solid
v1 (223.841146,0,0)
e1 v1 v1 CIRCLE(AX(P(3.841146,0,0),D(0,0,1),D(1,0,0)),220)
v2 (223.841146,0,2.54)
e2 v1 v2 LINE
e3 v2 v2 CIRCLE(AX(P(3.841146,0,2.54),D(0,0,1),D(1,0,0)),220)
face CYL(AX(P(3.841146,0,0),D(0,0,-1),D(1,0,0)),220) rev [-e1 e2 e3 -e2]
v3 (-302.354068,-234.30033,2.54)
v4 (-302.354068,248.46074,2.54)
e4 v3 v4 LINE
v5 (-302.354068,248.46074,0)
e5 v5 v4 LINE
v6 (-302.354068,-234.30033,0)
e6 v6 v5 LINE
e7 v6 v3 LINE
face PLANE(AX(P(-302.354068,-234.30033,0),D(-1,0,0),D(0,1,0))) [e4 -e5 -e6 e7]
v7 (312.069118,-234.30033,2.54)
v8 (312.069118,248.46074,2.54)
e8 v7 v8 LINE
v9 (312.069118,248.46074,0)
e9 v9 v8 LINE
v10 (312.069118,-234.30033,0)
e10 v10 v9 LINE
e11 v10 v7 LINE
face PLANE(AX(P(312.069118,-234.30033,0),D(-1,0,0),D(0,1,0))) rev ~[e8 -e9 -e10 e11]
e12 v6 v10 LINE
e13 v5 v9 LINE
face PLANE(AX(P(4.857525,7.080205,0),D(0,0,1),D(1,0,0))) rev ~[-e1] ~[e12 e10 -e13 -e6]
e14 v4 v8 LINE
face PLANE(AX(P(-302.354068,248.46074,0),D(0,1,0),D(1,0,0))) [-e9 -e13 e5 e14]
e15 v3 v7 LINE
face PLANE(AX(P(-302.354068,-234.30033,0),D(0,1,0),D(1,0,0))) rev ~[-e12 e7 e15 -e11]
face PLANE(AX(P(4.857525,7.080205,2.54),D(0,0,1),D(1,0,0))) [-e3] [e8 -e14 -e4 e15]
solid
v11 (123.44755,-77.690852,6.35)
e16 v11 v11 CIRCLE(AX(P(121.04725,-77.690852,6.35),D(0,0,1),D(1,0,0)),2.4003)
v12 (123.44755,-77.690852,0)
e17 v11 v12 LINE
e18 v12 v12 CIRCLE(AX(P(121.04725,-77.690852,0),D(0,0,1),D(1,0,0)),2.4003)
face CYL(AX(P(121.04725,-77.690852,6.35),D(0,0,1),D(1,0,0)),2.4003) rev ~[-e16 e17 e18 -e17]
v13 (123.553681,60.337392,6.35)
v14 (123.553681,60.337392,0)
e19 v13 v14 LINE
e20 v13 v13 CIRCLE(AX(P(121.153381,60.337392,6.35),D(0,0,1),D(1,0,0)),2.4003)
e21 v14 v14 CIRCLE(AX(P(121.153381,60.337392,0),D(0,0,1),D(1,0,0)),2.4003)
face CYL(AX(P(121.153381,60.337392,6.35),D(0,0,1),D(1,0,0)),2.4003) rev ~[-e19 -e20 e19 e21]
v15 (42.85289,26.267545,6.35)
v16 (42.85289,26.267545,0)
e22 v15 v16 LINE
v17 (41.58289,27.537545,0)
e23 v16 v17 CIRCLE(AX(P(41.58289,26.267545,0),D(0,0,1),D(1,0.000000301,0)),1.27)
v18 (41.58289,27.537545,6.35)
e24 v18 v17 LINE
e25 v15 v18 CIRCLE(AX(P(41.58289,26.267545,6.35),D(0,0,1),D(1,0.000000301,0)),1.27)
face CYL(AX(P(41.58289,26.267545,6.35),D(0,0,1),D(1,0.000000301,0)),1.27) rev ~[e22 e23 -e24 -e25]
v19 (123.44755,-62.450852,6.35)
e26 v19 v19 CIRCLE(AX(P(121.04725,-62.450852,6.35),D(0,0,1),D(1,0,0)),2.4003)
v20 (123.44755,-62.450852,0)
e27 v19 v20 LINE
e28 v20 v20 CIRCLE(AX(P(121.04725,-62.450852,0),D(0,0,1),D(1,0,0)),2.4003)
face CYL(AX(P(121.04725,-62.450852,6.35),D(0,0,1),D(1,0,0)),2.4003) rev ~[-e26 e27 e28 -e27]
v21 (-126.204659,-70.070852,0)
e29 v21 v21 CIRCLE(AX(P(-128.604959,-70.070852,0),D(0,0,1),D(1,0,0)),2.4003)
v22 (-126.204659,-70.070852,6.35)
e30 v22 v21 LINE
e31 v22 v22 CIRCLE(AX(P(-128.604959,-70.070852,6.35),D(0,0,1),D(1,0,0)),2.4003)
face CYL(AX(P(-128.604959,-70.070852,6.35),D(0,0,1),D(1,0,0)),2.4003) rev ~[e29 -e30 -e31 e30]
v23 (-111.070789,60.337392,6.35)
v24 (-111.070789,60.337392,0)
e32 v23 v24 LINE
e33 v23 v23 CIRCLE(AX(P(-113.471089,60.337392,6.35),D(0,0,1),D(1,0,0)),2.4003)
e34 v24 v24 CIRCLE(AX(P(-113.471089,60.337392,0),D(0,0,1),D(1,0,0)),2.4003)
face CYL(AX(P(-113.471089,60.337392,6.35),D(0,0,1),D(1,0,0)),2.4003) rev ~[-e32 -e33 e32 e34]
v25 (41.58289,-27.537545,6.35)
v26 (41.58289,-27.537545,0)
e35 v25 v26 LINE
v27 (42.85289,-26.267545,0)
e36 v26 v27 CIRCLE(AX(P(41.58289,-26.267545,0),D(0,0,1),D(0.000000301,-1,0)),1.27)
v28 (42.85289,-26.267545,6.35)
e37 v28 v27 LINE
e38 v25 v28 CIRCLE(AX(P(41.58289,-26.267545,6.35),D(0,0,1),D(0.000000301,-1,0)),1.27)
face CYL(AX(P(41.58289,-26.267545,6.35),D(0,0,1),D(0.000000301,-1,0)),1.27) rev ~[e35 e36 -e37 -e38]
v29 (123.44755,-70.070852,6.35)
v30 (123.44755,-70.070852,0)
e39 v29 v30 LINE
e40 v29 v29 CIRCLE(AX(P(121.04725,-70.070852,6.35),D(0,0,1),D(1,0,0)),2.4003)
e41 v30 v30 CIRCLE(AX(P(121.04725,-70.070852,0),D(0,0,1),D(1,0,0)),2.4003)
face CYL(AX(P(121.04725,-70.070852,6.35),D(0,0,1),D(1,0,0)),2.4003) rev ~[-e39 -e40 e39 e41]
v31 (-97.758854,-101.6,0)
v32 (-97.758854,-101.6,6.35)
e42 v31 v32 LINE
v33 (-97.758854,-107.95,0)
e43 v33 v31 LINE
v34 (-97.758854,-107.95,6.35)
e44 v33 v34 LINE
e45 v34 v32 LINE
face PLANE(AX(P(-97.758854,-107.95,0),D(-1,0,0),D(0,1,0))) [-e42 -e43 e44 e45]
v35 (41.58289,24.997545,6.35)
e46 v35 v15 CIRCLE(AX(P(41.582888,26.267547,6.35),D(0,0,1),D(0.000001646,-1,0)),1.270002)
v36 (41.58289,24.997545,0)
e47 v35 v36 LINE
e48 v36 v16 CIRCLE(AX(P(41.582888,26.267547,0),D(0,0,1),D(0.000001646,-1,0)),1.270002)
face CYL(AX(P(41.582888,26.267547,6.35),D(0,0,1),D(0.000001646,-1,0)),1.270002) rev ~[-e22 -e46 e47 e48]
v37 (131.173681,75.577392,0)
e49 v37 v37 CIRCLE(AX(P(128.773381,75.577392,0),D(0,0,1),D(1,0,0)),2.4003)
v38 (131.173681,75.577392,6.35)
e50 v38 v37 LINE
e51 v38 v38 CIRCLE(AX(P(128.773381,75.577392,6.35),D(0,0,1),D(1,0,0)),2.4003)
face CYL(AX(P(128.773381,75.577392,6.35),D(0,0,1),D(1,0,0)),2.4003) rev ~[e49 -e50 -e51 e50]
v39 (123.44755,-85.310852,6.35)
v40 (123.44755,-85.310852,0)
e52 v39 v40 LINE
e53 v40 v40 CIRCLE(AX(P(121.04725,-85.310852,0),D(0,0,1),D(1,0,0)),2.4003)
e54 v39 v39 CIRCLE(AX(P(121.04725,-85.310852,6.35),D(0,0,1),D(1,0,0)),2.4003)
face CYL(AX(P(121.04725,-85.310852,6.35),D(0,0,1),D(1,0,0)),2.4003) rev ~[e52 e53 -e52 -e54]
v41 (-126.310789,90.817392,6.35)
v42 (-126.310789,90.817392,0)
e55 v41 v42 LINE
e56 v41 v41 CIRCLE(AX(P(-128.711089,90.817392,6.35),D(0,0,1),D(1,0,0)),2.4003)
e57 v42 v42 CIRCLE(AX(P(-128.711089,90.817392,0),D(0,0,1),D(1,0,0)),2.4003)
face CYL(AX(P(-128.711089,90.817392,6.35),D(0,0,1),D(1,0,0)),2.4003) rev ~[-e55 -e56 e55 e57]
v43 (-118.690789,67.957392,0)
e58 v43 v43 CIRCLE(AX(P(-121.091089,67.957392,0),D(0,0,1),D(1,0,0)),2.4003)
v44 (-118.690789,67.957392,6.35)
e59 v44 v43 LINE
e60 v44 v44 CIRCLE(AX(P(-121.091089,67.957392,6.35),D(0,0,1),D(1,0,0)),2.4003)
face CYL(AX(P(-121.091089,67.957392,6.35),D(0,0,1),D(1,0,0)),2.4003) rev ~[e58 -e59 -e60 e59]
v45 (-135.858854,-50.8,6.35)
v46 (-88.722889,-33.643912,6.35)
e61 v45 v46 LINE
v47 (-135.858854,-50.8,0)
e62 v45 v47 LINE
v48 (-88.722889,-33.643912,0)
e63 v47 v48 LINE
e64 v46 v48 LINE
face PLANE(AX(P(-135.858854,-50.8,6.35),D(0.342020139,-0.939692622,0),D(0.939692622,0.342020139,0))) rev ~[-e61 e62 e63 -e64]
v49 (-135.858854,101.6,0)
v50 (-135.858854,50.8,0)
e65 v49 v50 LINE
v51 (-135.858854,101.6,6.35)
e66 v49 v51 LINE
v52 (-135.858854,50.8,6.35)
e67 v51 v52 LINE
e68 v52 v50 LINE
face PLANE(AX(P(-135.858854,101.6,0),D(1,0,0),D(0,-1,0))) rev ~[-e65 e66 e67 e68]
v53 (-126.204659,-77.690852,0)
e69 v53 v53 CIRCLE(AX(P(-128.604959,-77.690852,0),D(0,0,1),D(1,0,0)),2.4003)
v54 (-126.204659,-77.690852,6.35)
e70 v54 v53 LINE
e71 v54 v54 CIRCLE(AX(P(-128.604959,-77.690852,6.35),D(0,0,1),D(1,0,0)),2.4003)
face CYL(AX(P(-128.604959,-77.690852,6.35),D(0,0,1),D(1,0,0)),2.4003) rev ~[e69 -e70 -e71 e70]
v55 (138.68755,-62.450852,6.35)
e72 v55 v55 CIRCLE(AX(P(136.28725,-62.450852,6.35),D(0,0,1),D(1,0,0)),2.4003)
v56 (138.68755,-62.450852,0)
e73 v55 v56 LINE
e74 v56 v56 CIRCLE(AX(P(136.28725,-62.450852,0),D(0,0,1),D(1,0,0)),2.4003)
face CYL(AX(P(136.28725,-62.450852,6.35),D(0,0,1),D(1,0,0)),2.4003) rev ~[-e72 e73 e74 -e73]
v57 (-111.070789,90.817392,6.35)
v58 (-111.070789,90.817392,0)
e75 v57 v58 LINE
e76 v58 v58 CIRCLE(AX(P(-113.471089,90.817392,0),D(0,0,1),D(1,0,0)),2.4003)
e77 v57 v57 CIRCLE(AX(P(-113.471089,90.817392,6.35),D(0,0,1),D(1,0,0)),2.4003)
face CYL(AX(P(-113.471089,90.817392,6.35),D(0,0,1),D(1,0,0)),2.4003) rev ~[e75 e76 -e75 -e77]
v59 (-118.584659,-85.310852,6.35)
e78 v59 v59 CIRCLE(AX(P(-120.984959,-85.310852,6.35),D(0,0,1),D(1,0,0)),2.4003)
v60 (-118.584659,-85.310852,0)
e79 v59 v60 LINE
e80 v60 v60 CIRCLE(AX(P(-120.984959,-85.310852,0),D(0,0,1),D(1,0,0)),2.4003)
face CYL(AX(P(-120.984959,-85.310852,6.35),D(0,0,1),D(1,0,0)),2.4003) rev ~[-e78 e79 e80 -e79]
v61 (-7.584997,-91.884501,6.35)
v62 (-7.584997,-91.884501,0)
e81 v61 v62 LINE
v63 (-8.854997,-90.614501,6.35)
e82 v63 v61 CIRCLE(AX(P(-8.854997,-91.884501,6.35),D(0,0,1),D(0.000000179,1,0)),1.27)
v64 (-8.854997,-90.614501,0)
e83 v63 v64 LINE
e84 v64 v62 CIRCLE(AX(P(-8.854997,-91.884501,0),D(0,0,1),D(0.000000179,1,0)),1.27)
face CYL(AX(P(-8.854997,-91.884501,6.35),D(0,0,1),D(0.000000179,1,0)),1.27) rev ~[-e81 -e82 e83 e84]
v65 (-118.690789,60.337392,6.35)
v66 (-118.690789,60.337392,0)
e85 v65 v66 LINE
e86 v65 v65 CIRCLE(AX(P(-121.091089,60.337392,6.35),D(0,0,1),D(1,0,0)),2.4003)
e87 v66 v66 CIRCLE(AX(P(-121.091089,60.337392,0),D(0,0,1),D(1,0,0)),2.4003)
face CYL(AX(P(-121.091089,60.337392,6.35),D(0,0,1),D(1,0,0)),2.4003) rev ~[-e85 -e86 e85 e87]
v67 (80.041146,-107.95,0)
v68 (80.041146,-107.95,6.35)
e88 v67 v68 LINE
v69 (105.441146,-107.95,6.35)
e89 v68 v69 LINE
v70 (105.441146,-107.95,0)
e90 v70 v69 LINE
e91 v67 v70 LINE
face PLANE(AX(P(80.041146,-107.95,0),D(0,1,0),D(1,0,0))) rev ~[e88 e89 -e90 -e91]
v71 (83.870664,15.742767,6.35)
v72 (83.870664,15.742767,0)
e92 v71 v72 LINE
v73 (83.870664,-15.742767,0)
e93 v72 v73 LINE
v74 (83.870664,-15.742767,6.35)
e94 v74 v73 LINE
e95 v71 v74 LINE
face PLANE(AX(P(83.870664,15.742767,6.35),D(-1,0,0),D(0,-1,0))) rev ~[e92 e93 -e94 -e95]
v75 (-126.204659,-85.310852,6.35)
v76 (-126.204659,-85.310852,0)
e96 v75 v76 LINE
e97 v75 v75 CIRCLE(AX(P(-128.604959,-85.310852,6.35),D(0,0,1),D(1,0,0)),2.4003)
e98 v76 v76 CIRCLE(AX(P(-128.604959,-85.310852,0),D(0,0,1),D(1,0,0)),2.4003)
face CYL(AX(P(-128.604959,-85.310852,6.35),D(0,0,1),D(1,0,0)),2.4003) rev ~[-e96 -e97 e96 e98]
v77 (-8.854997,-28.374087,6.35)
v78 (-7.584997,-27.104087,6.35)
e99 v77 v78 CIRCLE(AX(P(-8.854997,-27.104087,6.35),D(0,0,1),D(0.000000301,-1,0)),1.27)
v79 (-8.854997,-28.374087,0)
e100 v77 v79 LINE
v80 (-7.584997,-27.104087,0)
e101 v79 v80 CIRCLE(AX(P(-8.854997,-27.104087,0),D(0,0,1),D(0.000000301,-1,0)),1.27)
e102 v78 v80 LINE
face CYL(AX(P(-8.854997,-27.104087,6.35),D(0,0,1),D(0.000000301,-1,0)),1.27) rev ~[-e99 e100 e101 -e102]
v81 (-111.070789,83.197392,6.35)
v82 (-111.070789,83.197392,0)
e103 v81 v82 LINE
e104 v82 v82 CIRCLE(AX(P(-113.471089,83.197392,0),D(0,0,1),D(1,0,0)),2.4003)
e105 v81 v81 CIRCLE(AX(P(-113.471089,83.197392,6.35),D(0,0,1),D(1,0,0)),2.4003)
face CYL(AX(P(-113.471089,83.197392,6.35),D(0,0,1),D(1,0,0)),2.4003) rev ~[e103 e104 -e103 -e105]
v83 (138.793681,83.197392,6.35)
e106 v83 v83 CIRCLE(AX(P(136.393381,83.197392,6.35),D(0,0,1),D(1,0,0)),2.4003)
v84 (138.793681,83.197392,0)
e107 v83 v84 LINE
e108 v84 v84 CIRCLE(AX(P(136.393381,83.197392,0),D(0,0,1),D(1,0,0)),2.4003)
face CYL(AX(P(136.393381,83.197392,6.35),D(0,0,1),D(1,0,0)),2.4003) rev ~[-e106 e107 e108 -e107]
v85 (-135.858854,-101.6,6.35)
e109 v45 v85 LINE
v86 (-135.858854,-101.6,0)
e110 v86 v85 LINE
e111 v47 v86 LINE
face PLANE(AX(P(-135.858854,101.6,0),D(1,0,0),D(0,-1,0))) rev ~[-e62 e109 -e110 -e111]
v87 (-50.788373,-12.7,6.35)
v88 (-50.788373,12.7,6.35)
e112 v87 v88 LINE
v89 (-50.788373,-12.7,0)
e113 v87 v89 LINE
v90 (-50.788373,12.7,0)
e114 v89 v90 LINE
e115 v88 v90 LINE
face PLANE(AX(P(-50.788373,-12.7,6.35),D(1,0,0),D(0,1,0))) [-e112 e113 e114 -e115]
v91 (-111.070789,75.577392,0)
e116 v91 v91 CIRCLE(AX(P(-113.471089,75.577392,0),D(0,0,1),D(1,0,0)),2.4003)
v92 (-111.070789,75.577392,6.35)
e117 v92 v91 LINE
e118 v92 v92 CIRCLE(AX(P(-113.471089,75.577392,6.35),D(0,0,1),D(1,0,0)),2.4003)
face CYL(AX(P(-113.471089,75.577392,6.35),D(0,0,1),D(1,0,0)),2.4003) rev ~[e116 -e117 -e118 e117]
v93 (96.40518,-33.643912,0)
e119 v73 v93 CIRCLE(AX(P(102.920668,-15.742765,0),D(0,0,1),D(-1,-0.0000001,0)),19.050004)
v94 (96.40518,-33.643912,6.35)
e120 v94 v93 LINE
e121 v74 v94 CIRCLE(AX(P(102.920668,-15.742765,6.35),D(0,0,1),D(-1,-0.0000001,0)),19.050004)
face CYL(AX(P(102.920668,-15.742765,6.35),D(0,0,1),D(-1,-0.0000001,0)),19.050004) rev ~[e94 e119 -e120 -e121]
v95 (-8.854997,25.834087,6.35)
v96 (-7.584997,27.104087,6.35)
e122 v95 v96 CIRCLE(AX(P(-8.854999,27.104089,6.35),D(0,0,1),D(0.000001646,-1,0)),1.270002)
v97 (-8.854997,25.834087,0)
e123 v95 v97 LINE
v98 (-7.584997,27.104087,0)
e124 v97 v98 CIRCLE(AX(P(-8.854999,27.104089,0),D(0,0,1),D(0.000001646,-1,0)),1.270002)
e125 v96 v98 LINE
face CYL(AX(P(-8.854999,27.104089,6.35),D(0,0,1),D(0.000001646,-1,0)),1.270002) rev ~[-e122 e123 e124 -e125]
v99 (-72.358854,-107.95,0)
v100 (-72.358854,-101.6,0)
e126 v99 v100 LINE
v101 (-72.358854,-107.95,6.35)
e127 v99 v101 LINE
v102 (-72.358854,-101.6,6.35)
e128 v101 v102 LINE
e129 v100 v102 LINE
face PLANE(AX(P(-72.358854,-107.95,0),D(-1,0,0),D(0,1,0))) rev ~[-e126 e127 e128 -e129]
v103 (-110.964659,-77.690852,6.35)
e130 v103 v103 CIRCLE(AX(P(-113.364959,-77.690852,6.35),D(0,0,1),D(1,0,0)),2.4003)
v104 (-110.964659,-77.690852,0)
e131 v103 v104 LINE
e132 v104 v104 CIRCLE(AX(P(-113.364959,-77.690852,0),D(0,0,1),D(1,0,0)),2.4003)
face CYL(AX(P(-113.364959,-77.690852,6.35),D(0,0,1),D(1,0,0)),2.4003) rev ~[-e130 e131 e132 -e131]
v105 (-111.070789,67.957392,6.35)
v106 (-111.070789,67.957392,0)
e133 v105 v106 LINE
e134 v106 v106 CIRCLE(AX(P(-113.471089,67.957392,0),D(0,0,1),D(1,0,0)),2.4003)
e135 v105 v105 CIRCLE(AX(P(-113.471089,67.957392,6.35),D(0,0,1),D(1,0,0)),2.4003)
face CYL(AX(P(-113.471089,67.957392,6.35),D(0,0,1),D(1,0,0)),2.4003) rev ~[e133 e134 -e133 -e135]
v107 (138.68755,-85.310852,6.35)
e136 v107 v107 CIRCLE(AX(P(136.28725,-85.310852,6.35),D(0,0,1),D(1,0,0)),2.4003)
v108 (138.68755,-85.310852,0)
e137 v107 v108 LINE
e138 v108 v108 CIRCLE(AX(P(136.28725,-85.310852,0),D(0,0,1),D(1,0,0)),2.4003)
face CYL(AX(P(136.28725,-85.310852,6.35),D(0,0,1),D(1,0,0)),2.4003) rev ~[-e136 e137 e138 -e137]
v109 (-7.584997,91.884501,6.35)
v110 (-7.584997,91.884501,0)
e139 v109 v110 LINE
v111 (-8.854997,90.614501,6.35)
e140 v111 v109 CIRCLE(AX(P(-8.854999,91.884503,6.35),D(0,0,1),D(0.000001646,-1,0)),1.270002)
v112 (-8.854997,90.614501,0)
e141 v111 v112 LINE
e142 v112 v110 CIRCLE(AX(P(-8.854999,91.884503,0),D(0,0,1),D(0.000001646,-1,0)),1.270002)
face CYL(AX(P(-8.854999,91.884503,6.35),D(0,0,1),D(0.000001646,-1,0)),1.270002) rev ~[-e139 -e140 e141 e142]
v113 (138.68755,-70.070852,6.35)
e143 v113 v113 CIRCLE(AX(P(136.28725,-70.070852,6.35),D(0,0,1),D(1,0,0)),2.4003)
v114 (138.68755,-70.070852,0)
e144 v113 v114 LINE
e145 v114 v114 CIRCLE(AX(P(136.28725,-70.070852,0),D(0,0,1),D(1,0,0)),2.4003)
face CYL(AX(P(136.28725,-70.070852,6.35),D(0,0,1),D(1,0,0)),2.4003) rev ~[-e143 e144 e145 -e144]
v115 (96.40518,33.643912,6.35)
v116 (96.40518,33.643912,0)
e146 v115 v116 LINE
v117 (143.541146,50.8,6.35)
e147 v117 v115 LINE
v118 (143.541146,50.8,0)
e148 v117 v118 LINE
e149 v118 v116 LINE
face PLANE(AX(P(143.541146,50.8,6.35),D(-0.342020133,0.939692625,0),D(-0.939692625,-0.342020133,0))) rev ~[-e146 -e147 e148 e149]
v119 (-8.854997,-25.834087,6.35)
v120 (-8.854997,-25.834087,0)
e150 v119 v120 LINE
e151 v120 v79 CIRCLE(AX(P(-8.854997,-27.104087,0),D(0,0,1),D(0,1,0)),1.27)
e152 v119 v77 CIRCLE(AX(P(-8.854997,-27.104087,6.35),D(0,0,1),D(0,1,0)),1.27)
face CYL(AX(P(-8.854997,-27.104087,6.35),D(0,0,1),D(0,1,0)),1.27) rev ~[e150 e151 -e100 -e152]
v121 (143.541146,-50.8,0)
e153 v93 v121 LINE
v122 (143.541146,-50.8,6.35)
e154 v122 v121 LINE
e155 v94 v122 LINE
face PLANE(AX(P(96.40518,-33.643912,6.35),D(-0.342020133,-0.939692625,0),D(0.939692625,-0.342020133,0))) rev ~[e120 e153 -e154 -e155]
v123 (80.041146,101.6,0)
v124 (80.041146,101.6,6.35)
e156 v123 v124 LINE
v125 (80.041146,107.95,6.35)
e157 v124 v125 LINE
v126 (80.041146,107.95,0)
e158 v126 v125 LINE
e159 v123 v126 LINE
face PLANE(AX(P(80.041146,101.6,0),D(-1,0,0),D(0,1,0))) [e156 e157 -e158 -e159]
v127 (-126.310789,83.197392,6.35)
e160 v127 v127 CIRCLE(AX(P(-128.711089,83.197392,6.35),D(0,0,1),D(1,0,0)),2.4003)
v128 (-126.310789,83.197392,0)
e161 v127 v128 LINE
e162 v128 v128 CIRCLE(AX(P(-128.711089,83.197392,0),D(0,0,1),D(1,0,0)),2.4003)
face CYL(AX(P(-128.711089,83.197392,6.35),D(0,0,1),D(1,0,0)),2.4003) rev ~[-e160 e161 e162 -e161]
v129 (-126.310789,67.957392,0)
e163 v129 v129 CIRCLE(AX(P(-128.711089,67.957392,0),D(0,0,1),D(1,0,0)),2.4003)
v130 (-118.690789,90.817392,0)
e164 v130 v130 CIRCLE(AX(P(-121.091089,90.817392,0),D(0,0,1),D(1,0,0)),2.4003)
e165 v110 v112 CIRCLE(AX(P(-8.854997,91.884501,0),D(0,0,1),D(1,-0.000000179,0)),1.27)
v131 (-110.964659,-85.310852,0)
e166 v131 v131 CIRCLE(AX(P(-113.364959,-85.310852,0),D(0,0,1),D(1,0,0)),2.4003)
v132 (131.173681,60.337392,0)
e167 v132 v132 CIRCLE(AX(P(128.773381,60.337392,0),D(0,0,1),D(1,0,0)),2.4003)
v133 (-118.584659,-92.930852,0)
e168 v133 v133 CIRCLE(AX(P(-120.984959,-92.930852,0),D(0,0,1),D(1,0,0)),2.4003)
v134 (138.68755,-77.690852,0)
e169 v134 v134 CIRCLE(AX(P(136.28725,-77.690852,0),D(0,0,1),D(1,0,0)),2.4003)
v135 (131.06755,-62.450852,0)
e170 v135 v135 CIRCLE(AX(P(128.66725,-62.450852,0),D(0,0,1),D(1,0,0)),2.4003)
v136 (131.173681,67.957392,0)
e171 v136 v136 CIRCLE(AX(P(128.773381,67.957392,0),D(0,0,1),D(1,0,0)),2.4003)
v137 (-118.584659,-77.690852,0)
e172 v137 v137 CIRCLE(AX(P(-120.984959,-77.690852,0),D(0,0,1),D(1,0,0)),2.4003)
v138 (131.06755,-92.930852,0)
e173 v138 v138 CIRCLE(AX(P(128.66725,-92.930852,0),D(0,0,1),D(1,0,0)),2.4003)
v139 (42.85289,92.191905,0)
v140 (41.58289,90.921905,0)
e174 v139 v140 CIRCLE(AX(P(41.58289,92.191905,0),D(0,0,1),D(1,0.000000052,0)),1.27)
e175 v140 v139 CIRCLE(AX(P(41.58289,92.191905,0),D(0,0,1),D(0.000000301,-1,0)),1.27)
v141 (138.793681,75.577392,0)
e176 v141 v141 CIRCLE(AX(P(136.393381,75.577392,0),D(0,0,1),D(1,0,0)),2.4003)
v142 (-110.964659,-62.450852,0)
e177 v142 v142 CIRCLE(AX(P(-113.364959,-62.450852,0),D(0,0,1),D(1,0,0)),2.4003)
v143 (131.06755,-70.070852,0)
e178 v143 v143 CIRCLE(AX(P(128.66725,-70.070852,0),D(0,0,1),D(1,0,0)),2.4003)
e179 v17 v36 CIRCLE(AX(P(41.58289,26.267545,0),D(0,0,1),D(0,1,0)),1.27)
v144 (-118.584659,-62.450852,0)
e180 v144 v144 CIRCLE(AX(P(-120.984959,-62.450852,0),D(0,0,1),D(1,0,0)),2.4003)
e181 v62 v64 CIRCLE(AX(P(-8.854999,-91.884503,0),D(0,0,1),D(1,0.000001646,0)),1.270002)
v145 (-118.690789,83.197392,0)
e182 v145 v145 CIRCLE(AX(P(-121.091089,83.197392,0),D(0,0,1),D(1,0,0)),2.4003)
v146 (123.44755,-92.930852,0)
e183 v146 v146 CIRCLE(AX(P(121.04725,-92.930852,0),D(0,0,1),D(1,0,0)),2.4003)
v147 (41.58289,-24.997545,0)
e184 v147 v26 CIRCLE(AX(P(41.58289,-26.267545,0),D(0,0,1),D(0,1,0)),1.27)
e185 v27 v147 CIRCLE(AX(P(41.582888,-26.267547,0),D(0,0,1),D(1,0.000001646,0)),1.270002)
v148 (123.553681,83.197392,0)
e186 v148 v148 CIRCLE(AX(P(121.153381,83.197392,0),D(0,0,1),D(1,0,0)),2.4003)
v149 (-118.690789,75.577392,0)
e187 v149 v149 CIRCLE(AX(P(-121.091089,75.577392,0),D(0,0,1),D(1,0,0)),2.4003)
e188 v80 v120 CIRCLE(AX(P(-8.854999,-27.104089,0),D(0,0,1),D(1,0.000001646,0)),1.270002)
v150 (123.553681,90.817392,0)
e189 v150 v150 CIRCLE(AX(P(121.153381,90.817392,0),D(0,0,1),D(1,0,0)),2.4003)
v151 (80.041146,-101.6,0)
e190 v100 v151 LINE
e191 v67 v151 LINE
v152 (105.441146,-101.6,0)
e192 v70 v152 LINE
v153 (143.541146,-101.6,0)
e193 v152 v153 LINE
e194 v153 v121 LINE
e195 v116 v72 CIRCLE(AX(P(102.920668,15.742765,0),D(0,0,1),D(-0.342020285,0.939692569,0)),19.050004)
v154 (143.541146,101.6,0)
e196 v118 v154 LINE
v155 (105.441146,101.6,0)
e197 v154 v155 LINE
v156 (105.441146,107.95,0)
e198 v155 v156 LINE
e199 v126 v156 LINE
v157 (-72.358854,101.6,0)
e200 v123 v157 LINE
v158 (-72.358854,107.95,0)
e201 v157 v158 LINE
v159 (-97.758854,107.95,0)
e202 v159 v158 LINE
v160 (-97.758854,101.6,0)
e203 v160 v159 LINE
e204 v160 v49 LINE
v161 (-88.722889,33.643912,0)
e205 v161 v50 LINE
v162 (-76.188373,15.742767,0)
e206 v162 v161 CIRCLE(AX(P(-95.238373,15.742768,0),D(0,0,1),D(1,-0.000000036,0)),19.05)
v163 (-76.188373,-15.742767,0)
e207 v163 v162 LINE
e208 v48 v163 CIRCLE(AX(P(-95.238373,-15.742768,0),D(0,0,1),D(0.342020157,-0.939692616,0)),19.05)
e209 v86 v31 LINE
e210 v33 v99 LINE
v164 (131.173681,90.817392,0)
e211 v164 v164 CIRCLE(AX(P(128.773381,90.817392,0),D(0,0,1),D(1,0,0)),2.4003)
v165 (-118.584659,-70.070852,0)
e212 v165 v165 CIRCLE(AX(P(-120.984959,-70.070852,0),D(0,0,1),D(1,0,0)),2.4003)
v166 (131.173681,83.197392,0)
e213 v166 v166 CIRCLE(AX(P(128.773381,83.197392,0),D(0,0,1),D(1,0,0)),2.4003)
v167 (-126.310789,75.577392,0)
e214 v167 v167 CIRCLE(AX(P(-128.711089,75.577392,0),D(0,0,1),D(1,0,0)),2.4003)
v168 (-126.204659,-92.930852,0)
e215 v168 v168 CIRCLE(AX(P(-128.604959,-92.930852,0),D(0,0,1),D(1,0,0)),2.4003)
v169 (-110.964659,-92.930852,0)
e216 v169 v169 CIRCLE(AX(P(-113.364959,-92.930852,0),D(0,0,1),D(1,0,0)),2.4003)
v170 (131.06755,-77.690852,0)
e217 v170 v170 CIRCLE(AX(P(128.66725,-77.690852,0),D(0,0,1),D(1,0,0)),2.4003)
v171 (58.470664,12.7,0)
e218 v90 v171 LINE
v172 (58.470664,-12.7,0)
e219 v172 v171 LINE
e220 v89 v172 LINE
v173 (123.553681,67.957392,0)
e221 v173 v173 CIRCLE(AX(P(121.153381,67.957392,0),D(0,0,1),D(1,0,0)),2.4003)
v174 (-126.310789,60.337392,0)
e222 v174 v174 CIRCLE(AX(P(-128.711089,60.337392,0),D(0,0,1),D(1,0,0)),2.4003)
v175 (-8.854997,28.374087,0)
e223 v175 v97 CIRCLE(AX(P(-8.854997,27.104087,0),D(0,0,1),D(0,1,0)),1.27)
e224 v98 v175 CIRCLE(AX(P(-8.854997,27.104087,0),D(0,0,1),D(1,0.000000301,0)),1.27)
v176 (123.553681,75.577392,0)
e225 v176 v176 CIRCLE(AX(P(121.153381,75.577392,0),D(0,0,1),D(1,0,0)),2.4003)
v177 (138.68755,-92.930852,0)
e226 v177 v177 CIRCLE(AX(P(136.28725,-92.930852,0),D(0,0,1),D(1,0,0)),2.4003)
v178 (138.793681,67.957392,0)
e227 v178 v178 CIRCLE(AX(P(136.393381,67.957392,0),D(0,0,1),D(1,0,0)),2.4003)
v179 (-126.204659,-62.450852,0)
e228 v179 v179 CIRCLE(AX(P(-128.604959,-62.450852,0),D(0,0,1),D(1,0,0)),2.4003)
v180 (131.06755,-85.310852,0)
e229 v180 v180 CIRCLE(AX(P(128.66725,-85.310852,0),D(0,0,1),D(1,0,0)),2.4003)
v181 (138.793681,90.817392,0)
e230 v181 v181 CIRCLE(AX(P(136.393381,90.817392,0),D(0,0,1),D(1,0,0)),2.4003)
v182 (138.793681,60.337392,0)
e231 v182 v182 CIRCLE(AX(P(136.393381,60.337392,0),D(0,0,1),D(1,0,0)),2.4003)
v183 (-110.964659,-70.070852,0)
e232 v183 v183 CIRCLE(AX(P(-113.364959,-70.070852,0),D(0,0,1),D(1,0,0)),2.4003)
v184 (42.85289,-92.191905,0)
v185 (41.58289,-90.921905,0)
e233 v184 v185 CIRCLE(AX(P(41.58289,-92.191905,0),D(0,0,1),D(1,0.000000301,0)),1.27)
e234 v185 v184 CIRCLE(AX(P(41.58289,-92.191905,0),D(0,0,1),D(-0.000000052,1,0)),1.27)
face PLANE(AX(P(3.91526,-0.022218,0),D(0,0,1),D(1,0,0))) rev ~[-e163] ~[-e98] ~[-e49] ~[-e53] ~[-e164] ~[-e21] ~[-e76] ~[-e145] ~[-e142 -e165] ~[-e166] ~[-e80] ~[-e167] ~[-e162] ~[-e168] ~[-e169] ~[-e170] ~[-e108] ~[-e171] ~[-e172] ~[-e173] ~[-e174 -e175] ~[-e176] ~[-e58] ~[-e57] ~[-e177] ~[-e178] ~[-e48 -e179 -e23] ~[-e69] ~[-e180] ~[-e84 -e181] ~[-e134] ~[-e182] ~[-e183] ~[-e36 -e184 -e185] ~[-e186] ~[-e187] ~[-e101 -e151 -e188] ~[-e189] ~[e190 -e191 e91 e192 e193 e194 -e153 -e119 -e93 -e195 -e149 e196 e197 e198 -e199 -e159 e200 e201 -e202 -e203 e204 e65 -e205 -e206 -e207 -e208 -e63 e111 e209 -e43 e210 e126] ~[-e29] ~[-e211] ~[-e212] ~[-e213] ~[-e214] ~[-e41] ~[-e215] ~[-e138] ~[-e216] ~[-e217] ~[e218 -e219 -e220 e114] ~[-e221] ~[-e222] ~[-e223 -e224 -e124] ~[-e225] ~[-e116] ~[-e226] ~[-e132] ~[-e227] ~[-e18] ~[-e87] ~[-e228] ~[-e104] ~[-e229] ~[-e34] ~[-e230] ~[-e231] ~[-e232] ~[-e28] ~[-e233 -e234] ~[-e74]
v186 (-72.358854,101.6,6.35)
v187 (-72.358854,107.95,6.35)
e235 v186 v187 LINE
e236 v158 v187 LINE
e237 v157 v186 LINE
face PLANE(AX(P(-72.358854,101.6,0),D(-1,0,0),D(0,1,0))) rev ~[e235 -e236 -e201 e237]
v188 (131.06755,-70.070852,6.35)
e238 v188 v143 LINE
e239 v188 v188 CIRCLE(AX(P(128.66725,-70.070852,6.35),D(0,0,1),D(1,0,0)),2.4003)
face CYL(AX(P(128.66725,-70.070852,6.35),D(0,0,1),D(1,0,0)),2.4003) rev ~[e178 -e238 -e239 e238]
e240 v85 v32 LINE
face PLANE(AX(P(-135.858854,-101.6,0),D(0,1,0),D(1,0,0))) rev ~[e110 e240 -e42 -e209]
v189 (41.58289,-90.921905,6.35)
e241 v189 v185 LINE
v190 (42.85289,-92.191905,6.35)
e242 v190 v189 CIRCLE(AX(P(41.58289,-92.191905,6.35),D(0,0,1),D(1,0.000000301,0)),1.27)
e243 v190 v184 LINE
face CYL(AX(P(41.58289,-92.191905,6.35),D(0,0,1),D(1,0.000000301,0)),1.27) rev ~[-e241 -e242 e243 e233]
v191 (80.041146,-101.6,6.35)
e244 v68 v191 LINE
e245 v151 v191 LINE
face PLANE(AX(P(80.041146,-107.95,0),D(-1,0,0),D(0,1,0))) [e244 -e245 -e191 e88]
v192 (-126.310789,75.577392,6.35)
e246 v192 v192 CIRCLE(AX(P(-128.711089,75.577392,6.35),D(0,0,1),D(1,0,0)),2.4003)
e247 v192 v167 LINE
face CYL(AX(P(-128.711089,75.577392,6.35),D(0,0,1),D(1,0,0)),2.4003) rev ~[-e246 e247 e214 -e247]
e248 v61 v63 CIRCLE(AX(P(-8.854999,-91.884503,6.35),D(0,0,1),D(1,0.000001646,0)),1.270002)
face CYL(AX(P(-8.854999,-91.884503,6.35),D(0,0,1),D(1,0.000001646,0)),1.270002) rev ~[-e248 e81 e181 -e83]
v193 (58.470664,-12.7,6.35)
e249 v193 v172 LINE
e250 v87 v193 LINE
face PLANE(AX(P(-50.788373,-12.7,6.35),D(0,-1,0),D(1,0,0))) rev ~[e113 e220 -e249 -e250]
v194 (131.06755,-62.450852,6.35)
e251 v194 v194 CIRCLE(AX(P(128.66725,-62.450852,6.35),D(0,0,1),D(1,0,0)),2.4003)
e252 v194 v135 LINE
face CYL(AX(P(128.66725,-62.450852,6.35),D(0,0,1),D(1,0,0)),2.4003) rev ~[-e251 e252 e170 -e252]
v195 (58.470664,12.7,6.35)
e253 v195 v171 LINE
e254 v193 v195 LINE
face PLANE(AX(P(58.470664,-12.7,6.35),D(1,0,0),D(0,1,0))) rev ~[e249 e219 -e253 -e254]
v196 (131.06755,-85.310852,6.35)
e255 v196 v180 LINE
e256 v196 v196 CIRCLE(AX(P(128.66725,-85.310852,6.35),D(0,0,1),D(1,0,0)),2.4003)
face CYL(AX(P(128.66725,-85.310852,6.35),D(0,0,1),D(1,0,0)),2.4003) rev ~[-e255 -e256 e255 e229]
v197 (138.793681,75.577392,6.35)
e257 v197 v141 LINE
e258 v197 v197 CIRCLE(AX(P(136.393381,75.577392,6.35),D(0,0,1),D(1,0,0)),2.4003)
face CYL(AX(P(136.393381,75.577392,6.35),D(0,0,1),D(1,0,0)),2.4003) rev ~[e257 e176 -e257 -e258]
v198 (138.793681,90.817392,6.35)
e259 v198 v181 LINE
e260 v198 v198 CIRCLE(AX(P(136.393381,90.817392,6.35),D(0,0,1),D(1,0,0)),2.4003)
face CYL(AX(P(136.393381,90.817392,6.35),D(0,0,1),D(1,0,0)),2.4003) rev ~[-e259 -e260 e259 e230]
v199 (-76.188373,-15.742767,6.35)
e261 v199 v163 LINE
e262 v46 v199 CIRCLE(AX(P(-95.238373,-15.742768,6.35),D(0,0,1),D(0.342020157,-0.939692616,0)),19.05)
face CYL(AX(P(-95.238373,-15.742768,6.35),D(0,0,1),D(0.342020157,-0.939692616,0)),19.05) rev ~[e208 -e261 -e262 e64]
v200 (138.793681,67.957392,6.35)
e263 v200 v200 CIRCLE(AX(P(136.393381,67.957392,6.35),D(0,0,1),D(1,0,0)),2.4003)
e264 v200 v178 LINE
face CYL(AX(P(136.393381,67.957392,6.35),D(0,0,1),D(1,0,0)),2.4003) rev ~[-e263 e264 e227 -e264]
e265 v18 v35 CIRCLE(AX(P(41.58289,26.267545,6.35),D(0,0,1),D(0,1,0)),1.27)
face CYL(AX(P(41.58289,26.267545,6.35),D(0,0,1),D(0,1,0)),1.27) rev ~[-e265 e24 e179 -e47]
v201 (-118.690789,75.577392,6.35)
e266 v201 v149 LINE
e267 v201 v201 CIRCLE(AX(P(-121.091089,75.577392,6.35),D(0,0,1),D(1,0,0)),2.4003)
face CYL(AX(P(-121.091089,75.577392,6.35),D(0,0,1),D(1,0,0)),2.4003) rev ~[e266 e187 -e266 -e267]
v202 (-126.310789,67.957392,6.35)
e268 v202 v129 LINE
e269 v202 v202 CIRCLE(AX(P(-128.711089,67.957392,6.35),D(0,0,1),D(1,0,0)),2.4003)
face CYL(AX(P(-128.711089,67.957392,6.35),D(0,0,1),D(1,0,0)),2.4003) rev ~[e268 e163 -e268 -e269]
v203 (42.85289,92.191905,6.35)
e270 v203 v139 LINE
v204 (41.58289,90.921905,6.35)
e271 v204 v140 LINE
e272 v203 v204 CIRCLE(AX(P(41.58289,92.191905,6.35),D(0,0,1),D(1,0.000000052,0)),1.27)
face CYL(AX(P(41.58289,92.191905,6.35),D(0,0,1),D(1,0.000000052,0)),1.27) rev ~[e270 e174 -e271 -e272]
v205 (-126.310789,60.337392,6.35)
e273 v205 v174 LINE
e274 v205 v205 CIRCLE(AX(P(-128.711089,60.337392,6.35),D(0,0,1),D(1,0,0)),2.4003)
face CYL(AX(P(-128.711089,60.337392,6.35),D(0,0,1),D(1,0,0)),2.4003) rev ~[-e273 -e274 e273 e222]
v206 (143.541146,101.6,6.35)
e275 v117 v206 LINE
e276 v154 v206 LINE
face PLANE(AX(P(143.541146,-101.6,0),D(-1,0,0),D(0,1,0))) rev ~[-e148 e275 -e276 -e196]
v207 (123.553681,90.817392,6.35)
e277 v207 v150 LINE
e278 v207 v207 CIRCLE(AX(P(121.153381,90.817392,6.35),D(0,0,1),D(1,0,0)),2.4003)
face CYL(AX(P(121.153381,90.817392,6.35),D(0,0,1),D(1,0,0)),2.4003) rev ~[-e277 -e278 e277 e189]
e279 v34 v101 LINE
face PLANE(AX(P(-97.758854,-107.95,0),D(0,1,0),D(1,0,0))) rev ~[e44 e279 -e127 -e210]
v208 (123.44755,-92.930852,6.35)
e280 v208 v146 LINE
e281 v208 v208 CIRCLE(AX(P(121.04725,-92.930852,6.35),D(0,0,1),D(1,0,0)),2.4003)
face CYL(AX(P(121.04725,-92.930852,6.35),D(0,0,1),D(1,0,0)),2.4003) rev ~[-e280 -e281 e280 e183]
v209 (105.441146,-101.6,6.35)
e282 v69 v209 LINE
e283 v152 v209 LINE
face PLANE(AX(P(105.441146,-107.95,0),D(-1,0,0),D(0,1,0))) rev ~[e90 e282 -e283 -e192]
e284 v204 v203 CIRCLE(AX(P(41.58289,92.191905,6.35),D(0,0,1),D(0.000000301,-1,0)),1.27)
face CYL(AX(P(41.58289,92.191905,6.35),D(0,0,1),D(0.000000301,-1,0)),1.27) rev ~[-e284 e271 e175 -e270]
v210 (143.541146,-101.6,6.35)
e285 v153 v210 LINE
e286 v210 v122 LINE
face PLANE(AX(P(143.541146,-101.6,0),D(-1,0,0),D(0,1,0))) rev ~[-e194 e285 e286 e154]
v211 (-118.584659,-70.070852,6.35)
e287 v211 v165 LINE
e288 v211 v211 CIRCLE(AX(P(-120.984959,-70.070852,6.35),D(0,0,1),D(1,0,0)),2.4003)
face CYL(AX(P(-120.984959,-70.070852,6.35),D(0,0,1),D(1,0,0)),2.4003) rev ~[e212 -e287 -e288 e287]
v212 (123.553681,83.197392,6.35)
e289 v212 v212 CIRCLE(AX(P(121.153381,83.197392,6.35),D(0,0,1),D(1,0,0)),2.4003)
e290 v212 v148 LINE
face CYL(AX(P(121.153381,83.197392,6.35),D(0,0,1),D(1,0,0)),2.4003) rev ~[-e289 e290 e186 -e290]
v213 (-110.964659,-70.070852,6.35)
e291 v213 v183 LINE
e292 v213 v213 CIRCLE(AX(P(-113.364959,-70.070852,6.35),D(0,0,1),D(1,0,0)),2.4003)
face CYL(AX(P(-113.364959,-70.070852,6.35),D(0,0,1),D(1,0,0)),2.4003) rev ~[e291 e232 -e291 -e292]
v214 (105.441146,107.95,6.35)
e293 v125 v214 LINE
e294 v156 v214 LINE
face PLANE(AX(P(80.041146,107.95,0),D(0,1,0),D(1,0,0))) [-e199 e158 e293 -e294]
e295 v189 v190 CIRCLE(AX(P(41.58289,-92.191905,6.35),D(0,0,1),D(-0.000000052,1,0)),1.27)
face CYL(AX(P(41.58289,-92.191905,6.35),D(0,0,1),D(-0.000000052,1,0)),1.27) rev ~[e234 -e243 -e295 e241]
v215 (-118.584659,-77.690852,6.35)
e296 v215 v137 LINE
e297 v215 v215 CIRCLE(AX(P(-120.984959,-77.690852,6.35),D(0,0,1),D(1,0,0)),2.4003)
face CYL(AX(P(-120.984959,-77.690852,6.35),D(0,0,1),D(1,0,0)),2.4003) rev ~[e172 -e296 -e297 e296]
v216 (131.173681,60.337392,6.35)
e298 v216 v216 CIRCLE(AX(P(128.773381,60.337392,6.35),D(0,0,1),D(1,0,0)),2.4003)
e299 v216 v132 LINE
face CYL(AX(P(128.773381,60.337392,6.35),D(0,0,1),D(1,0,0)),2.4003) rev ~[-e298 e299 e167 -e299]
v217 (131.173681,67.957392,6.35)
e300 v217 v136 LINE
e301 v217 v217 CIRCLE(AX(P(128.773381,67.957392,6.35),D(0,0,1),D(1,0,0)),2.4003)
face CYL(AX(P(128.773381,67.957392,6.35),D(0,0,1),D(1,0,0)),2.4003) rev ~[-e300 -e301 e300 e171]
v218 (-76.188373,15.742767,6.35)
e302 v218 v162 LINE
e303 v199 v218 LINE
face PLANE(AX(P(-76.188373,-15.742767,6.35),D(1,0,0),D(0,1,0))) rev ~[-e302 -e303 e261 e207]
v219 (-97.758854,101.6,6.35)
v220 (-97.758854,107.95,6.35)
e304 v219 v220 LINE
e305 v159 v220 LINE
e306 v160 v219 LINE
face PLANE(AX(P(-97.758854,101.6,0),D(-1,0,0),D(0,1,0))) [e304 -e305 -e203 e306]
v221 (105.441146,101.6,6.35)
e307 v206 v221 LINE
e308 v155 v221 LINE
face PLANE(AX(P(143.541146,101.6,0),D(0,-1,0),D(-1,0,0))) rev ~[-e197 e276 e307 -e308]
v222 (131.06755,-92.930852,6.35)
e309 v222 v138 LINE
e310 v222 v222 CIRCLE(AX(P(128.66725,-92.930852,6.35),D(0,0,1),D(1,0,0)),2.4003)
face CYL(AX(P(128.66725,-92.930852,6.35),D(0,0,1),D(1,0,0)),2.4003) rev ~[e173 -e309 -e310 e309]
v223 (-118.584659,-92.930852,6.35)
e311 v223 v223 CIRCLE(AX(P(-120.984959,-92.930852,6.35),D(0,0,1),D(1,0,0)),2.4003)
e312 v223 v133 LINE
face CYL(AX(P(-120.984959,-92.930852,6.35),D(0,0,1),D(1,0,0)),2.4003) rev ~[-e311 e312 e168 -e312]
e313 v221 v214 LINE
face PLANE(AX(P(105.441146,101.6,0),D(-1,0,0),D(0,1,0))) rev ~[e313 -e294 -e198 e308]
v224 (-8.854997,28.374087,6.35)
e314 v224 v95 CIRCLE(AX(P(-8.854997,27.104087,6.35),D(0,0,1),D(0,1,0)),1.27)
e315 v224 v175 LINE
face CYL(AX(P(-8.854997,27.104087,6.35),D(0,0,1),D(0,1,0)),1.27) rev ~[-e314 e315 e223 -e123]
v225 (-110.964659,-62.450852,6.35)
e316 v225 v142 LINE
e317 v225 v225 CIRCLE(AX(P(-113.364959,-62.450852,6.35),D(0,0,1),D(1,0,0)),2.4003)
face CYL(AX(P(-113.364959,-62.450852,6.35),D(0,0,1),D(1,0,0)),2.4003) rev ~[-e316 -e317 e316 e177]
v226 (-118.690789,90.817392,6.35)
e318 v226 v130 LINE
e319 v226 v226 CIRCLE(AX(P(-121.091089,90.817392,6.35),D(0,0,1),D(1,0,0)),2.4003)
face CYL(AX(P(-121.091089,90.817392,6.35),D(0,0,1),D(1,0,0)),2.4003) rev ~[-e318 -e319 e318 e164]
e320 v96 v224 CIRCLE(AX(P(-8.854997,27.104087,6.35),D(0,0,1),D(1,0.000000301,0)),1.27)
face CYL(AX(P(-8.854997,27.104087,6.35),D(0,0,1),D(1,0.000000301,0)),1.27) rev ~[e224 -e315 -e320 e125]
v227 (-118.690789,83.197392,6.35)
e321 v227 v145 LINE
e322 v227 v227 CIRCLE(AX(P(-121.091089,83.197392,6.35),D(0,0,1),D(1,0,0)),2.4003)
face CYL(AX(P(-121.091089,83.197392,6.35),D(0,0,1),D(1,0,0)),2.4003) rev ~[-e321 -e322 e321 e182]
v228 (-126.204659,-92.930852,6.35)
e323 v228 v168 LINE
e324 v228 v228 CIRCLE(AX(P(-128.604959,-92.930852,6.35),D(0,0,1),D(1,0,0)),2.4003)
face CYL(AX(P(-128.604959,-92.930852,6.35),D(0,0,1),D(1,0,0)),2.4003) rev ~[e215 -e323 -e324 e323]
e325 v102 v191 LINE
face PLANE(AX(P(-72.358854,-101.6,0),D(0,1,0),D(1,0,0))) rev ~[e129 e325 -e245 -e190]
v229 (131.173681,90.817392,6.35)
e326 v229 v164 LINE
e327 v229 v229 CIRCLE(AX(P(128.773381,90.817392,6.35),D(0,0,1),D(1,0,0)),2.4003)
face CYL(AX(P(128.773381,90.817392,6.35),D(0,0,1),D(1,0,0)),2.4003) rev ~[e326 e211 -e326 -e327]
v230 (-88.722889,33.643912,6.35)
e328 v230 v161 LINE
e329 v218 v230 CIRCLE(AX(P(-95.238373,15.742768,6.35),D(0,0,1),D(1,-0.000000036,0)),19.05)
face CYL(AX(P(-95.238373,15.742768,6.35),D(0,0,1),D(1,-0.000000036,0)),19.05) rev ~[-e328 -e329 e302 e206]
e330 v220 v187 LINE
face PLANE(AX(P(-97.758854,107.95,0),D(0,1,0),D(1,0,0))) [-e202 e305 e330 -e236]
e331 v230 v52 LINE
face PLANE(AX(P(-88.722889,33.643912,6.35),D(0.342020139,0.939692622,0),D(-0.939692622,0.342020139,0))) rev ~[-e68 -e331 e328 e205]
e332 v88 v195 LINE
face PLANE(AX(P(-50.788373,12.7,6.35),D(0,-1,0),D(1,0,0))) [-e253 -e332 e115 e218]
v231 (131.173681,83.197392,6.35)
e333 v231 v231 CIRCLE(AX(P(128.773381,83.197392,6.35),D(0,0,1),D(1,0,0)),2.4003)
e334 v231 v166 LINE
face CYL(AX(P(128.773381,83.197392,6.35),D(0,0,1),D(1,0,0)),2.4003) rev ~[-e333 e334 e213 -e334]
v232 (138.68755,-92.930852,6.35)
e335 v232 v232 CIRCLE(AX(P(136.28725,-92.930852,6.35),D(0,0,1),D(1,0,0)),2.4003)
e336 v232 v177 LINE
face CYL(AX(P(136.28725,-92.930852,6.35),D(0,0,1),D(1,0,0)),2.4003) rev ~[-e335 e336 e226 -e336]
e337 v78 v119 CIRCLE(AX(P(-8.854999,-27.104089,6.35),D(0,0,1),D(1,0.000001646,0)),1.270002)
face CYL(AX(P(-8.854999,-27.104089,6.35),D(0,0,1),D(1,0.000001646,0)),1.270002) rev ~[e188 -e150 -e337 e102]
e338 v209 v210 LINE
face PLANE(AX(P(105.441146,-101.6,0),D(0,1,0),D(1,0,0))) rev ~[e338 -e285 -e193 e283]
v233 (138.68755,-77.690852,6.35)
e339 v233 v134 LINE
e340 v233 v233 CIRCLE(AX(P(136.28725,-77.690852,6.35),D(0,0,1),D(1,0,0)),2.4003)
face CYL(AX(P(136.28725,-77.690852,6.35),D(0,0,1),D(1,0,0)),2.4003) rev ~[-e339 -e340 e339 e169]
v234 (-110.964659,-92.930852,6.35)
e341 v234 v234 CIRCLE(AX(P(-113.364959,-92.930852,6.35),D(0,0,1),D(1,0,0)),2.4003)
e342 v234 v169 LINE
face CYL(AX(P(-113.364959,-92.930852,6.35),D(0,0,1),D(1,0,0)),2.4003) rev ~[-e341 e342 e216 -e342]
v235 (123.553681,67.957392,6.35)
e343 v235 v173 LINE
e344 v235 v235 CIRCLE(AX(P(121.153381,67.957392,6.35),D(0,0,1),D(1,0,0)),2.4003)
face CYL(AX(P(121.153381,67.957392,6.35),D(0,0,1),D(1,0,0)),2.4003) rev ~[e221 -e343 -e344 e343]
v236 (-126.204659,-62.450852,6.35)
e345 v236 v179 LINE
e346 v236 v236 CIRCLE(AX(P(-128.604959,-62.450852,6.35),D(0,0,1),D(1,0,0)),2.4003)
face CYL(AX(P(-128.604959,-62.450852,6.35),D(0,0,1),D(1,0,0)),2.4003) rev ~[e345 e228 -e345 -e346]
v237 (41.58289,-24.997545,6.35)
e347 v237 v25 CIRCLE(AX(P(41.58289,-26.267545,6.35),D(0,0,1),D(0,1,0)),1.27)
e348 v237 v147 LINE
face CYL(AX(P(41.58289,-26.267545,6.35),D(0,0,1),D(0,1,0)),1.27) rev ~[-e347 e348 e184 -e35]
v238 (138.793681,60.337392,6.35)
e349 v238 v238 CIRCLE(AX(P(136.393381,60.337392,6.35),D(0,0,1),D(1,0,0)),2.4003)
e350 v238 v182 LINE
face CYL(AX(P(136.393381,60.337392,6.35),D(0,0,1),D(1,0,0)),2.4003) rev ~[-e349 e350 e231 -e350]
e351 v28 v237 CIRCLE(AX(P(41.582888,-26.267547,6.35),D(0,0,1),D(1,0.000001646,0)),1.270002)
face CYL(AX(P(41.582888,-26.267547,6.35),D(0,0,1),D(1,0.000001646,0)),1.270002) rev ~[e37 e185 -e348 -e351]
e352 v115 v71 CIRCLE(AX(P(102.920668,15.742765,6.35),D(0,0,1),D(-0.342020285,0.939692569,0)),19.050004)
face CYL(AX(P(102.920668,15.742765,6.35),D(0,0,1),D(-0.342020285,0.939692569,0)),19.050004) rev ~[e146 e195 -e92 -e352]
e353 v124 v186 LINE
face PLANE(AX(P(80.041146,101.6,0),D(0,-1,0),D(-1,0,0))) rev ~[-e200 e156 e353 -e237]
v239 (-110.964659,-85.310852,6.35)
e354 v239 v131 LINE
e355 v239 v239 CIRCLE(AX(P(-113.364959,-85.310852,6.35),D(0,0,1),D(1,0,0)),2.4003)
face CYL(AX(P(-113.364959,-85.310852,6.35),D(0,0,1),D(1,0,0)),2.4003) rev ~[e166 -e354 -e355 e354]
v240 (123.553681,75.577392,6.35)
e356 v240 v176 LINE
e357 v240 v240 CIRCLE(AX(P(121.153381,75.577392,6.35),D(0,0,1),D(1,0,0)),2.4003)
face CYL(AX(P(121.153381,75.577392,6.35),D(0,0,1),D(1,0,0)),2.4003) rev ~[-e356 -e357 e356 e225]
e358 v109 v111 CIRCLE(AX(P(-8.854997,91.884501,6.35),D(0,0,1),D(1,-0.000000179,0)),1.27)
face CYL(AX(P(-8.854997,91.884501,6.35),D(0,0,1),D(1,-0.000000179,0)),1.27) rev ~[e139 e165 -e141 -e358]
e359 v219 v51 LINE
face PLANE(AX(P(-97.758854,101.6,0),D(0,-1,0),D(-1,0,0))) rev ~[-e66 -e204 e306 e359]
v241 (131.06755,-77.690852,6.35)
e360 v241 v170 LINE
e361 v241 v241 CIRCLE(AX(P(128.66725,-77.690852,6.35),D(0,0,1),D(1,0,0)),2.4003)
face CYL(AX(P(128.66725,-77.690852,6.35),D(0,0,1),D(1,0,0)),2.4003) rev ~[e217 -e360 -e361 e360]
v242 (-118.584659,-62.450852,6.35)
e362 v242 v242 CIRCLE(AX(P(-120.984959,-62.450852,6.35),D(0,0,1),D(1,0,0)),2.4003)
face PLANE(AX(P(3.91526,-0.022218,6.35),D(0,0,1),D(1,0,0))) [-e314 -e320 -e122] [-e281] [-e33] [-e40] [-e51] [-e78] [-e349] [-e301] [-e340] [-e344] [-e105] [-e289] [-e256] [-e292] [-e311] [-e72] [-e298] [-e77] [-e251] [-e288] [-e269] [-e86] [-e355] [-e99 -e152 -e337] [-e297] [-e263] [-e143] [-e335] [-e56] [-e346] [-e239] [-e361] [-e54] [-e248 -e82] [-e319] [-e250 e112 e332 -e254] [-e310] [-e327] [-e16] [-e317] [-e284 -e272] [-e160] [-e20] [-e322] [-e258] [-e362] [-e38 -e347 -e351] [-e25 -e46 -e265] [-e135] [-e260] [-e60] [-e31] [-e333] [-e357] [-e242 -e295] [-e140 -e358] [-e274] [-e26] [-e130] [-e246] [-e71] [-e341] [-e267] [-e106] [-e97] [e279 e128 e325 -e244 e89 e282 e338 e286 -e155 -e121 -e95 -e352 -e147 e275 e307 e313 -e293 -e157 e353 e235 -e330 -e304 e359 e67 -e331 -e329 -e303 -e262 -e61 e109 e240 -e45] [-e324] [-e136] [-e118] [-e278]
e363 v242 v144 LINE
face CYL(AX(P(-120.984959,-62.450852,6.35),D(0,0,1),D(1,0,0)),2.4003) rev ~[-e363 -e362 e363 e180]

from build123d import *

# Parameters (mm, degrees)
F1_W      = 25.4
F1_H      = 6.35
F2_DEPTH  = 6.35
F0_W      = 614.423186
F0_H      = 482.76107
F0_R      = 220
F3_DEPTH  = 2.54
F5_DEPTH  = 25.4
F6_R      = 2.4003
F7_DEPTH  = 25.4
F8_W      = 109.259037
F8_H      = 25.4
F9_DEPTH  = 25.4
F11_DEPTH = 50.8


with BuildPart() as f2:
    # F1 (on face) → F2 (new body)
    with BuildSketch(Plane.XY):
        Polygon((-97.758854, 101.6), (-135.858854, 101.6), (-135.858854, 51.370811), (-88.194847, 33.268079), (-88.144869, -33.487633), (-135.858854, -51.12635), (-135.858854, -101.6), (-97.758854, -101.6), (-72.358854, -101.6), (80.041146, -101.6), (105.441146, -101.6), (143.541146, -101.6), (143.541146, -51.020265), (95.782734, -33.633832), (95.831849, 33.409029), (143.541146, 50.852332), (143.541146, 101.6), (105.441146, 101.6), (80.041146, 101.6), (-72.358854, 101.6), align=None)
        with Locations((-85.058854, 104.775)):
            Rectangle(F1_W, F1_H)
        Polygon((-88.194847, 33.268079), (-135.858854, 51.370811), (-135.858854, -51.12635), (-88.144869, -33.487633), align=None)
        with Locations((92.741146, 104.775)):
            Rectangle(F1_W, F1_H)
        with Locations((-85.058854, -104.775)):
            Rectangle(F1_W, F1_H)
        Polygon((143.541146, -51.020265), (143.541146, 50.852332), (95.831849, 33.409029), (95.782734, -33.633832), align=None)
        with Locations((92.741146, -104.775)):
            Rectangle(F1_W, F1_H)
    extrude(amount=F2_DEPTH)

    # F4 (on face) → F5 (cut)
    with BuildSketch(Plane.XY.offset(6.35)):
        with BuildLine():
            Line((143.541146, -50.8), (143.541146, 50.8))
            Line((143.541146, 50.8), (96.40518, 33.643912))
            ThreePointArc((96.40518, 33.643912), (87.315818, 26.669398), (83.870664, 15.742767))
            Line((83.870664, 15.742767), (83.870664, -15.742767))
            ThreePointArc((83.870664, -15.742767), (87.315818, -26.669398), (96.40518, -33.643912))
            Line((96.40518, -33.643912), (143.541146, -50.8))
        make_face()
        with BuildLine():
            Line((-88.722889, 33.643912), (-135.858854, 50.8))
            Line((-135.858854, 50.8), (-135.858854, -50.8))
            Line((-135.858854, -50.8), (-88.722889, -33.643912))
            ThreePointArc((-88.722889, -33.643912), (-79.633526, -26.669398), (-76.188373, -15.742767))
            Line((-76.188373, -15.742767), (-76.188373, 15.742767))
            ThreePointArc((-76.188373, 15.742767), (-79.633526, 26.669398), (-88.722889, 33.643912))
        make_face()
    extrude(amount=-F5_DEPTH, mode=Mode.SUBTRACT)

    # F6 (on face) → F7 (cut)
    with BuildSketch(Plane.XY.offset(6.35)):
        with Locations((-128.711089, 90.817392)):
            Circle(F6_R)
        with Locations((-128.711089, 83.197392)):
            Circle(F6_R)
        with Locations((-128.711089, 75.577392)):
            Circle(F6_R)
        with Locations((-128.711089, 67.957392)):
            Circle(F6_R)
        with Locations((-128.711089, 60.337392)):
            Circle(F6_R)
        with Locations((-121.091089, 90.817392)):
            Circle(F6_R)
        with Locations((-121.091089, 83.197392)):
            Circle(F6_R)
        with Locations((-121.091089, 75.577392)):
            Circle(F6_R)
        with Locations((-121.091089, 67.957392)):
            Circle(F6_R)
        with Locations((-121.091089, 60.337392)):
            Circle(F6_R)
        with Locations((-113.471089, 90.817392)):
            Circle(F6_R)
        with Locations((-113.471089, 83.197392)):
            Circle(F6_R)
        with Locations((-113.471089, 75.577392)):
            Circle(F6_R)
        with Locations((-113.471089, 67.957392)):
            Circle(F6_R)
        with Locations((-113.471089, 60.337392)):
            Circle(F6_R)
        with Locations((-113.364959, -62.450852)):
            Circle(F6_R)
        with Locations((-120.984959, -92.930852)):
            Circle(F6_R)
        with Locations((-120.984959, -85.310852)):
            Circle(F6_R)
        with Locations((-128.604959, -92.930852)):
            Circle(F6_R)
        with Locations((-120.984959, -77.690852)):
            Circle(F6_R)
        with Locations((-113.364959, -85.310852)):
            Circle(F6_R)
        with Locations((-113.364959, -77.690852)):
            Circle(F6_R)
        with Locations((-120.984959, -70.070852)):
            Circle(F6_R)
        with Locations((-128.604959, -85.310852)):
            Circle(F6_R)
        with Locations((-128.604959, -77.690852)):
            Circle(F6_R)
        with Locations((-113.364959, -70.070852)):
            Circle(F6_R)
        with Locations((-113.364959, -92.930852)):
            Circle(F6_R)
        with Locations((-120.984959, -62.450852)):
            Circle(F6_R)
        with Locations((-128.604959, -70.070852)):
            Circle(F6_R)
        with Locations((-128.604959, -62.450852)):
            Circle(F6_R)
        with Locations((121.153381, 60.337392)):
            Circle(F6_R)
        with Locations((128.773381, 60.337392)):
            Circle(F6_R)
        with Locations((136.393381, 60.337392)):
            Circle(F6_R)
        with Locations((136.393381, 67.957392)):
            Circle(F6_R)
        with Locations((128.773381, 67.957392)):
            Circle(F6_R)
        with Locations((121.153381, 67.957392)):
            Circle(F6_R)
        with Locations((121.153381, 75.577392)):
            Circle(F6_R)
        with Locations((128.773381, 75.577392)):
            Circle(F6_R)
        with Locations((136.393381, 75.577392)):
            Circle(F6_R)
        with Locations((136.393381, 83.197392)):
            Circle(F6_R)
        with Locations((128.773381, 83.197392)):
            Circle(F6_R)
        with Locations((128.773381, 90.817392)):
            Circle(F6_R)
        with Locations((136.393381, 90.817392)):
            Circle(F6_R)
        with Locations((121.153381, 90.817392)):
            Circle(F6_R)
        with Locations((121.153381, 83.197392)):
            Circle(F6_R)
        with Locations((136.28725, -62.450852)):
            Circle(F6_R)
        with Locations((136.28725, -70.070852)):
            Circle(F6_R)
        with Locations((136.28725, -77.690852)):
            Circle(F6_R)
        with Locations((136.28725, -85.310852)):
            Circle(F6_R)
        with Locations((136.28725, -92.930852)):
            Circle(F6_R)
        with Locations((128.66725, -92.930852)):
            Circle(F6_R)
        with Locations((128.66725, -85.310852)):
            Circle(F6_R)
        with Locations((128.66725, -77.690852)):
            Circle(F6_R)
        with Locations((128.66725, -70.070852)):
            Circle(F6_R)
        with Locations((128.66725, -62.450852)):
            Circle(F6_R)
        with Locations((121.04725, -62.450852)):
            Circle(F6_R)
        with Locations((121.04725, -70.070852)):
            Circle(F6_R)
        with Locations((121.04725, -77.690852)):
            Circle(F6_R)
        with Locations((121.04725, -85.310852)):
            Circle(F6_R)
        with Locations((121.04725, -92.930852)):
            Circle(F6_R)
    extrude(amount=-F7_DEPTH, mode=Mode.SUBTRACT)

    # F8 (on face) → F9 (cut)
    with BuildSketch(Plane.XY.offset(6.35)):
        with Locations((3.841145, 0)):
            Rectangle(F8_W, F8_H)
    extrude(amount=-F9_DEPTH, mode=Mode.SUBTRACT)

    # F10 (on face) → F11 (cut)
    with BuildSketch(Plane.XY.offset(6.35)):
        with BuildLine():
            ThreePointArc((41.58289, -90.921905), (40.684864, -93.08993), (42.85289, -92.191905))
            ThreePointArc((42.85289, -92.191905), (42.480915, -91.293879), (41.58289, -90.921905))
        make_face()
        with BuildLine():
            ThreePointArc((-7.584997, -91.884501), (-7.956972, -90.986476), (-8.854997, -90.614501))
            ThreePointArc((-8.854997, -90.614501), (-9.753023, -92.782527), (-7.584997, -91.884501))
        make_face()
        with BuildLine():
            ThreePointArc((-7.584997, -27.104087), (-7.956972, -26.206062), (-8.854997, -25.834087))
            Line((-8.854997, -25.834087), (-8.854997, -28.374087))
            ThreePointArc((-8.854997, -28.374087), (-7.956972, -28.002113), (-7.584997, -27.104087))
        make_face()
        with BuildLine():
            Line((-8.854997, -28.374087), (-8.854997, -25.834087))
            ThreePointArc((-8.854997, -25.834087), (-10.124997, -27.104087), (-8.854997, -28.374087))
        make_face()
        with BuildLine():
            ThreePointArc((41.58289, -24.997545), (40.31289, -26.267545), (41.58289, -27.537545))
            Line((41.58289, -27.537545), (41.58289, -24.997545))
        make_face()
        with BuildLine():
            Line((41.58289, -24.997545), (41.58289, -27.537545))
            ThreePointArc((41.58289, -27.537545), (42.480915, -27.165571), (42.85289, -26.267545))
            ThreePointArc((42.85289, -26.267545), (42.480915, -25.36952), (41.58289, -24.997545))
        make_face()
        with BuildLine():
            ThreePointArc((-7.584997, 91.884501), (-9.753023, 92.782527), (-8.854997, 90.614501))
            ThreePointArc((-8.854997, 90.614501), (-7.956972, 90.986476), (-7.584997, 91.884501))
        make_face()
        with BuildLine():
            ThreePointArc((-8.854997, 28.374087), (-10.124997, 27.104087), (-8.854997, 25.834087))
            Line((-8.854997, 25.834087), (-8.854997, 28.374087))
        make_face()
        with BuildLine():
            Line((-8.854997, 28.374087), (-8.854997, 25.834087))
            ThreePointArc((-8.854997, 25.834087), (-7.956972, 26.206062), (-7.584997, 27.104087))
            ThreePointArc((-7.584997, 27.104087), (-7.956972, 28.002113), (-8.854997, 28.374087))
        make_face()
        with BuildLine():
            ThreePointArc((42.85289, 92.191905), (40.684864, 93.08993), (41.58289, 90.921905))
            ThreePointArc((41.58289, 90.921905), (42.480915, 91.293879), (42.85289, 92.191905))
        make_face()
        with BuildLine():
            ThreePointArc((41.58289, 27.537545), (40.31289, 26.267545), (41.58289, 24.997545))
            Line((41.58289, 24.997545), (41.58289, 27.537545))
        make_face()
        with BuildLine():
            Line((41.58289, 27.537545), (41.58289, 24.997545))
            ThreePointArc((41.58289, 24.997545), (42.480915, 25.36952), (42.85289, 26.267545))
            ThreePointArc((42.85289, 26.267545), (42.480915, 27.165571), (41.58289, 27.537545))
        make_face()
    extrude(amount=-F11_DEPTH, mode=Mode.SUBTRACT)


with BuildPart() as f3:
    # F0 (on Top) → F3 (new body)
    with BuildSketch(Plane.XY):
        with Locations((4.857525, 7.080205)):
            Rectangle(F0_W, F0_H)
        with Locations((3.841146, 0)):
            Circle(F0_R, mode=Mode.SUBTRACT)
    extrude(amount=F3_DEPTH)


solid = Compound([f2.part, f3.part])
